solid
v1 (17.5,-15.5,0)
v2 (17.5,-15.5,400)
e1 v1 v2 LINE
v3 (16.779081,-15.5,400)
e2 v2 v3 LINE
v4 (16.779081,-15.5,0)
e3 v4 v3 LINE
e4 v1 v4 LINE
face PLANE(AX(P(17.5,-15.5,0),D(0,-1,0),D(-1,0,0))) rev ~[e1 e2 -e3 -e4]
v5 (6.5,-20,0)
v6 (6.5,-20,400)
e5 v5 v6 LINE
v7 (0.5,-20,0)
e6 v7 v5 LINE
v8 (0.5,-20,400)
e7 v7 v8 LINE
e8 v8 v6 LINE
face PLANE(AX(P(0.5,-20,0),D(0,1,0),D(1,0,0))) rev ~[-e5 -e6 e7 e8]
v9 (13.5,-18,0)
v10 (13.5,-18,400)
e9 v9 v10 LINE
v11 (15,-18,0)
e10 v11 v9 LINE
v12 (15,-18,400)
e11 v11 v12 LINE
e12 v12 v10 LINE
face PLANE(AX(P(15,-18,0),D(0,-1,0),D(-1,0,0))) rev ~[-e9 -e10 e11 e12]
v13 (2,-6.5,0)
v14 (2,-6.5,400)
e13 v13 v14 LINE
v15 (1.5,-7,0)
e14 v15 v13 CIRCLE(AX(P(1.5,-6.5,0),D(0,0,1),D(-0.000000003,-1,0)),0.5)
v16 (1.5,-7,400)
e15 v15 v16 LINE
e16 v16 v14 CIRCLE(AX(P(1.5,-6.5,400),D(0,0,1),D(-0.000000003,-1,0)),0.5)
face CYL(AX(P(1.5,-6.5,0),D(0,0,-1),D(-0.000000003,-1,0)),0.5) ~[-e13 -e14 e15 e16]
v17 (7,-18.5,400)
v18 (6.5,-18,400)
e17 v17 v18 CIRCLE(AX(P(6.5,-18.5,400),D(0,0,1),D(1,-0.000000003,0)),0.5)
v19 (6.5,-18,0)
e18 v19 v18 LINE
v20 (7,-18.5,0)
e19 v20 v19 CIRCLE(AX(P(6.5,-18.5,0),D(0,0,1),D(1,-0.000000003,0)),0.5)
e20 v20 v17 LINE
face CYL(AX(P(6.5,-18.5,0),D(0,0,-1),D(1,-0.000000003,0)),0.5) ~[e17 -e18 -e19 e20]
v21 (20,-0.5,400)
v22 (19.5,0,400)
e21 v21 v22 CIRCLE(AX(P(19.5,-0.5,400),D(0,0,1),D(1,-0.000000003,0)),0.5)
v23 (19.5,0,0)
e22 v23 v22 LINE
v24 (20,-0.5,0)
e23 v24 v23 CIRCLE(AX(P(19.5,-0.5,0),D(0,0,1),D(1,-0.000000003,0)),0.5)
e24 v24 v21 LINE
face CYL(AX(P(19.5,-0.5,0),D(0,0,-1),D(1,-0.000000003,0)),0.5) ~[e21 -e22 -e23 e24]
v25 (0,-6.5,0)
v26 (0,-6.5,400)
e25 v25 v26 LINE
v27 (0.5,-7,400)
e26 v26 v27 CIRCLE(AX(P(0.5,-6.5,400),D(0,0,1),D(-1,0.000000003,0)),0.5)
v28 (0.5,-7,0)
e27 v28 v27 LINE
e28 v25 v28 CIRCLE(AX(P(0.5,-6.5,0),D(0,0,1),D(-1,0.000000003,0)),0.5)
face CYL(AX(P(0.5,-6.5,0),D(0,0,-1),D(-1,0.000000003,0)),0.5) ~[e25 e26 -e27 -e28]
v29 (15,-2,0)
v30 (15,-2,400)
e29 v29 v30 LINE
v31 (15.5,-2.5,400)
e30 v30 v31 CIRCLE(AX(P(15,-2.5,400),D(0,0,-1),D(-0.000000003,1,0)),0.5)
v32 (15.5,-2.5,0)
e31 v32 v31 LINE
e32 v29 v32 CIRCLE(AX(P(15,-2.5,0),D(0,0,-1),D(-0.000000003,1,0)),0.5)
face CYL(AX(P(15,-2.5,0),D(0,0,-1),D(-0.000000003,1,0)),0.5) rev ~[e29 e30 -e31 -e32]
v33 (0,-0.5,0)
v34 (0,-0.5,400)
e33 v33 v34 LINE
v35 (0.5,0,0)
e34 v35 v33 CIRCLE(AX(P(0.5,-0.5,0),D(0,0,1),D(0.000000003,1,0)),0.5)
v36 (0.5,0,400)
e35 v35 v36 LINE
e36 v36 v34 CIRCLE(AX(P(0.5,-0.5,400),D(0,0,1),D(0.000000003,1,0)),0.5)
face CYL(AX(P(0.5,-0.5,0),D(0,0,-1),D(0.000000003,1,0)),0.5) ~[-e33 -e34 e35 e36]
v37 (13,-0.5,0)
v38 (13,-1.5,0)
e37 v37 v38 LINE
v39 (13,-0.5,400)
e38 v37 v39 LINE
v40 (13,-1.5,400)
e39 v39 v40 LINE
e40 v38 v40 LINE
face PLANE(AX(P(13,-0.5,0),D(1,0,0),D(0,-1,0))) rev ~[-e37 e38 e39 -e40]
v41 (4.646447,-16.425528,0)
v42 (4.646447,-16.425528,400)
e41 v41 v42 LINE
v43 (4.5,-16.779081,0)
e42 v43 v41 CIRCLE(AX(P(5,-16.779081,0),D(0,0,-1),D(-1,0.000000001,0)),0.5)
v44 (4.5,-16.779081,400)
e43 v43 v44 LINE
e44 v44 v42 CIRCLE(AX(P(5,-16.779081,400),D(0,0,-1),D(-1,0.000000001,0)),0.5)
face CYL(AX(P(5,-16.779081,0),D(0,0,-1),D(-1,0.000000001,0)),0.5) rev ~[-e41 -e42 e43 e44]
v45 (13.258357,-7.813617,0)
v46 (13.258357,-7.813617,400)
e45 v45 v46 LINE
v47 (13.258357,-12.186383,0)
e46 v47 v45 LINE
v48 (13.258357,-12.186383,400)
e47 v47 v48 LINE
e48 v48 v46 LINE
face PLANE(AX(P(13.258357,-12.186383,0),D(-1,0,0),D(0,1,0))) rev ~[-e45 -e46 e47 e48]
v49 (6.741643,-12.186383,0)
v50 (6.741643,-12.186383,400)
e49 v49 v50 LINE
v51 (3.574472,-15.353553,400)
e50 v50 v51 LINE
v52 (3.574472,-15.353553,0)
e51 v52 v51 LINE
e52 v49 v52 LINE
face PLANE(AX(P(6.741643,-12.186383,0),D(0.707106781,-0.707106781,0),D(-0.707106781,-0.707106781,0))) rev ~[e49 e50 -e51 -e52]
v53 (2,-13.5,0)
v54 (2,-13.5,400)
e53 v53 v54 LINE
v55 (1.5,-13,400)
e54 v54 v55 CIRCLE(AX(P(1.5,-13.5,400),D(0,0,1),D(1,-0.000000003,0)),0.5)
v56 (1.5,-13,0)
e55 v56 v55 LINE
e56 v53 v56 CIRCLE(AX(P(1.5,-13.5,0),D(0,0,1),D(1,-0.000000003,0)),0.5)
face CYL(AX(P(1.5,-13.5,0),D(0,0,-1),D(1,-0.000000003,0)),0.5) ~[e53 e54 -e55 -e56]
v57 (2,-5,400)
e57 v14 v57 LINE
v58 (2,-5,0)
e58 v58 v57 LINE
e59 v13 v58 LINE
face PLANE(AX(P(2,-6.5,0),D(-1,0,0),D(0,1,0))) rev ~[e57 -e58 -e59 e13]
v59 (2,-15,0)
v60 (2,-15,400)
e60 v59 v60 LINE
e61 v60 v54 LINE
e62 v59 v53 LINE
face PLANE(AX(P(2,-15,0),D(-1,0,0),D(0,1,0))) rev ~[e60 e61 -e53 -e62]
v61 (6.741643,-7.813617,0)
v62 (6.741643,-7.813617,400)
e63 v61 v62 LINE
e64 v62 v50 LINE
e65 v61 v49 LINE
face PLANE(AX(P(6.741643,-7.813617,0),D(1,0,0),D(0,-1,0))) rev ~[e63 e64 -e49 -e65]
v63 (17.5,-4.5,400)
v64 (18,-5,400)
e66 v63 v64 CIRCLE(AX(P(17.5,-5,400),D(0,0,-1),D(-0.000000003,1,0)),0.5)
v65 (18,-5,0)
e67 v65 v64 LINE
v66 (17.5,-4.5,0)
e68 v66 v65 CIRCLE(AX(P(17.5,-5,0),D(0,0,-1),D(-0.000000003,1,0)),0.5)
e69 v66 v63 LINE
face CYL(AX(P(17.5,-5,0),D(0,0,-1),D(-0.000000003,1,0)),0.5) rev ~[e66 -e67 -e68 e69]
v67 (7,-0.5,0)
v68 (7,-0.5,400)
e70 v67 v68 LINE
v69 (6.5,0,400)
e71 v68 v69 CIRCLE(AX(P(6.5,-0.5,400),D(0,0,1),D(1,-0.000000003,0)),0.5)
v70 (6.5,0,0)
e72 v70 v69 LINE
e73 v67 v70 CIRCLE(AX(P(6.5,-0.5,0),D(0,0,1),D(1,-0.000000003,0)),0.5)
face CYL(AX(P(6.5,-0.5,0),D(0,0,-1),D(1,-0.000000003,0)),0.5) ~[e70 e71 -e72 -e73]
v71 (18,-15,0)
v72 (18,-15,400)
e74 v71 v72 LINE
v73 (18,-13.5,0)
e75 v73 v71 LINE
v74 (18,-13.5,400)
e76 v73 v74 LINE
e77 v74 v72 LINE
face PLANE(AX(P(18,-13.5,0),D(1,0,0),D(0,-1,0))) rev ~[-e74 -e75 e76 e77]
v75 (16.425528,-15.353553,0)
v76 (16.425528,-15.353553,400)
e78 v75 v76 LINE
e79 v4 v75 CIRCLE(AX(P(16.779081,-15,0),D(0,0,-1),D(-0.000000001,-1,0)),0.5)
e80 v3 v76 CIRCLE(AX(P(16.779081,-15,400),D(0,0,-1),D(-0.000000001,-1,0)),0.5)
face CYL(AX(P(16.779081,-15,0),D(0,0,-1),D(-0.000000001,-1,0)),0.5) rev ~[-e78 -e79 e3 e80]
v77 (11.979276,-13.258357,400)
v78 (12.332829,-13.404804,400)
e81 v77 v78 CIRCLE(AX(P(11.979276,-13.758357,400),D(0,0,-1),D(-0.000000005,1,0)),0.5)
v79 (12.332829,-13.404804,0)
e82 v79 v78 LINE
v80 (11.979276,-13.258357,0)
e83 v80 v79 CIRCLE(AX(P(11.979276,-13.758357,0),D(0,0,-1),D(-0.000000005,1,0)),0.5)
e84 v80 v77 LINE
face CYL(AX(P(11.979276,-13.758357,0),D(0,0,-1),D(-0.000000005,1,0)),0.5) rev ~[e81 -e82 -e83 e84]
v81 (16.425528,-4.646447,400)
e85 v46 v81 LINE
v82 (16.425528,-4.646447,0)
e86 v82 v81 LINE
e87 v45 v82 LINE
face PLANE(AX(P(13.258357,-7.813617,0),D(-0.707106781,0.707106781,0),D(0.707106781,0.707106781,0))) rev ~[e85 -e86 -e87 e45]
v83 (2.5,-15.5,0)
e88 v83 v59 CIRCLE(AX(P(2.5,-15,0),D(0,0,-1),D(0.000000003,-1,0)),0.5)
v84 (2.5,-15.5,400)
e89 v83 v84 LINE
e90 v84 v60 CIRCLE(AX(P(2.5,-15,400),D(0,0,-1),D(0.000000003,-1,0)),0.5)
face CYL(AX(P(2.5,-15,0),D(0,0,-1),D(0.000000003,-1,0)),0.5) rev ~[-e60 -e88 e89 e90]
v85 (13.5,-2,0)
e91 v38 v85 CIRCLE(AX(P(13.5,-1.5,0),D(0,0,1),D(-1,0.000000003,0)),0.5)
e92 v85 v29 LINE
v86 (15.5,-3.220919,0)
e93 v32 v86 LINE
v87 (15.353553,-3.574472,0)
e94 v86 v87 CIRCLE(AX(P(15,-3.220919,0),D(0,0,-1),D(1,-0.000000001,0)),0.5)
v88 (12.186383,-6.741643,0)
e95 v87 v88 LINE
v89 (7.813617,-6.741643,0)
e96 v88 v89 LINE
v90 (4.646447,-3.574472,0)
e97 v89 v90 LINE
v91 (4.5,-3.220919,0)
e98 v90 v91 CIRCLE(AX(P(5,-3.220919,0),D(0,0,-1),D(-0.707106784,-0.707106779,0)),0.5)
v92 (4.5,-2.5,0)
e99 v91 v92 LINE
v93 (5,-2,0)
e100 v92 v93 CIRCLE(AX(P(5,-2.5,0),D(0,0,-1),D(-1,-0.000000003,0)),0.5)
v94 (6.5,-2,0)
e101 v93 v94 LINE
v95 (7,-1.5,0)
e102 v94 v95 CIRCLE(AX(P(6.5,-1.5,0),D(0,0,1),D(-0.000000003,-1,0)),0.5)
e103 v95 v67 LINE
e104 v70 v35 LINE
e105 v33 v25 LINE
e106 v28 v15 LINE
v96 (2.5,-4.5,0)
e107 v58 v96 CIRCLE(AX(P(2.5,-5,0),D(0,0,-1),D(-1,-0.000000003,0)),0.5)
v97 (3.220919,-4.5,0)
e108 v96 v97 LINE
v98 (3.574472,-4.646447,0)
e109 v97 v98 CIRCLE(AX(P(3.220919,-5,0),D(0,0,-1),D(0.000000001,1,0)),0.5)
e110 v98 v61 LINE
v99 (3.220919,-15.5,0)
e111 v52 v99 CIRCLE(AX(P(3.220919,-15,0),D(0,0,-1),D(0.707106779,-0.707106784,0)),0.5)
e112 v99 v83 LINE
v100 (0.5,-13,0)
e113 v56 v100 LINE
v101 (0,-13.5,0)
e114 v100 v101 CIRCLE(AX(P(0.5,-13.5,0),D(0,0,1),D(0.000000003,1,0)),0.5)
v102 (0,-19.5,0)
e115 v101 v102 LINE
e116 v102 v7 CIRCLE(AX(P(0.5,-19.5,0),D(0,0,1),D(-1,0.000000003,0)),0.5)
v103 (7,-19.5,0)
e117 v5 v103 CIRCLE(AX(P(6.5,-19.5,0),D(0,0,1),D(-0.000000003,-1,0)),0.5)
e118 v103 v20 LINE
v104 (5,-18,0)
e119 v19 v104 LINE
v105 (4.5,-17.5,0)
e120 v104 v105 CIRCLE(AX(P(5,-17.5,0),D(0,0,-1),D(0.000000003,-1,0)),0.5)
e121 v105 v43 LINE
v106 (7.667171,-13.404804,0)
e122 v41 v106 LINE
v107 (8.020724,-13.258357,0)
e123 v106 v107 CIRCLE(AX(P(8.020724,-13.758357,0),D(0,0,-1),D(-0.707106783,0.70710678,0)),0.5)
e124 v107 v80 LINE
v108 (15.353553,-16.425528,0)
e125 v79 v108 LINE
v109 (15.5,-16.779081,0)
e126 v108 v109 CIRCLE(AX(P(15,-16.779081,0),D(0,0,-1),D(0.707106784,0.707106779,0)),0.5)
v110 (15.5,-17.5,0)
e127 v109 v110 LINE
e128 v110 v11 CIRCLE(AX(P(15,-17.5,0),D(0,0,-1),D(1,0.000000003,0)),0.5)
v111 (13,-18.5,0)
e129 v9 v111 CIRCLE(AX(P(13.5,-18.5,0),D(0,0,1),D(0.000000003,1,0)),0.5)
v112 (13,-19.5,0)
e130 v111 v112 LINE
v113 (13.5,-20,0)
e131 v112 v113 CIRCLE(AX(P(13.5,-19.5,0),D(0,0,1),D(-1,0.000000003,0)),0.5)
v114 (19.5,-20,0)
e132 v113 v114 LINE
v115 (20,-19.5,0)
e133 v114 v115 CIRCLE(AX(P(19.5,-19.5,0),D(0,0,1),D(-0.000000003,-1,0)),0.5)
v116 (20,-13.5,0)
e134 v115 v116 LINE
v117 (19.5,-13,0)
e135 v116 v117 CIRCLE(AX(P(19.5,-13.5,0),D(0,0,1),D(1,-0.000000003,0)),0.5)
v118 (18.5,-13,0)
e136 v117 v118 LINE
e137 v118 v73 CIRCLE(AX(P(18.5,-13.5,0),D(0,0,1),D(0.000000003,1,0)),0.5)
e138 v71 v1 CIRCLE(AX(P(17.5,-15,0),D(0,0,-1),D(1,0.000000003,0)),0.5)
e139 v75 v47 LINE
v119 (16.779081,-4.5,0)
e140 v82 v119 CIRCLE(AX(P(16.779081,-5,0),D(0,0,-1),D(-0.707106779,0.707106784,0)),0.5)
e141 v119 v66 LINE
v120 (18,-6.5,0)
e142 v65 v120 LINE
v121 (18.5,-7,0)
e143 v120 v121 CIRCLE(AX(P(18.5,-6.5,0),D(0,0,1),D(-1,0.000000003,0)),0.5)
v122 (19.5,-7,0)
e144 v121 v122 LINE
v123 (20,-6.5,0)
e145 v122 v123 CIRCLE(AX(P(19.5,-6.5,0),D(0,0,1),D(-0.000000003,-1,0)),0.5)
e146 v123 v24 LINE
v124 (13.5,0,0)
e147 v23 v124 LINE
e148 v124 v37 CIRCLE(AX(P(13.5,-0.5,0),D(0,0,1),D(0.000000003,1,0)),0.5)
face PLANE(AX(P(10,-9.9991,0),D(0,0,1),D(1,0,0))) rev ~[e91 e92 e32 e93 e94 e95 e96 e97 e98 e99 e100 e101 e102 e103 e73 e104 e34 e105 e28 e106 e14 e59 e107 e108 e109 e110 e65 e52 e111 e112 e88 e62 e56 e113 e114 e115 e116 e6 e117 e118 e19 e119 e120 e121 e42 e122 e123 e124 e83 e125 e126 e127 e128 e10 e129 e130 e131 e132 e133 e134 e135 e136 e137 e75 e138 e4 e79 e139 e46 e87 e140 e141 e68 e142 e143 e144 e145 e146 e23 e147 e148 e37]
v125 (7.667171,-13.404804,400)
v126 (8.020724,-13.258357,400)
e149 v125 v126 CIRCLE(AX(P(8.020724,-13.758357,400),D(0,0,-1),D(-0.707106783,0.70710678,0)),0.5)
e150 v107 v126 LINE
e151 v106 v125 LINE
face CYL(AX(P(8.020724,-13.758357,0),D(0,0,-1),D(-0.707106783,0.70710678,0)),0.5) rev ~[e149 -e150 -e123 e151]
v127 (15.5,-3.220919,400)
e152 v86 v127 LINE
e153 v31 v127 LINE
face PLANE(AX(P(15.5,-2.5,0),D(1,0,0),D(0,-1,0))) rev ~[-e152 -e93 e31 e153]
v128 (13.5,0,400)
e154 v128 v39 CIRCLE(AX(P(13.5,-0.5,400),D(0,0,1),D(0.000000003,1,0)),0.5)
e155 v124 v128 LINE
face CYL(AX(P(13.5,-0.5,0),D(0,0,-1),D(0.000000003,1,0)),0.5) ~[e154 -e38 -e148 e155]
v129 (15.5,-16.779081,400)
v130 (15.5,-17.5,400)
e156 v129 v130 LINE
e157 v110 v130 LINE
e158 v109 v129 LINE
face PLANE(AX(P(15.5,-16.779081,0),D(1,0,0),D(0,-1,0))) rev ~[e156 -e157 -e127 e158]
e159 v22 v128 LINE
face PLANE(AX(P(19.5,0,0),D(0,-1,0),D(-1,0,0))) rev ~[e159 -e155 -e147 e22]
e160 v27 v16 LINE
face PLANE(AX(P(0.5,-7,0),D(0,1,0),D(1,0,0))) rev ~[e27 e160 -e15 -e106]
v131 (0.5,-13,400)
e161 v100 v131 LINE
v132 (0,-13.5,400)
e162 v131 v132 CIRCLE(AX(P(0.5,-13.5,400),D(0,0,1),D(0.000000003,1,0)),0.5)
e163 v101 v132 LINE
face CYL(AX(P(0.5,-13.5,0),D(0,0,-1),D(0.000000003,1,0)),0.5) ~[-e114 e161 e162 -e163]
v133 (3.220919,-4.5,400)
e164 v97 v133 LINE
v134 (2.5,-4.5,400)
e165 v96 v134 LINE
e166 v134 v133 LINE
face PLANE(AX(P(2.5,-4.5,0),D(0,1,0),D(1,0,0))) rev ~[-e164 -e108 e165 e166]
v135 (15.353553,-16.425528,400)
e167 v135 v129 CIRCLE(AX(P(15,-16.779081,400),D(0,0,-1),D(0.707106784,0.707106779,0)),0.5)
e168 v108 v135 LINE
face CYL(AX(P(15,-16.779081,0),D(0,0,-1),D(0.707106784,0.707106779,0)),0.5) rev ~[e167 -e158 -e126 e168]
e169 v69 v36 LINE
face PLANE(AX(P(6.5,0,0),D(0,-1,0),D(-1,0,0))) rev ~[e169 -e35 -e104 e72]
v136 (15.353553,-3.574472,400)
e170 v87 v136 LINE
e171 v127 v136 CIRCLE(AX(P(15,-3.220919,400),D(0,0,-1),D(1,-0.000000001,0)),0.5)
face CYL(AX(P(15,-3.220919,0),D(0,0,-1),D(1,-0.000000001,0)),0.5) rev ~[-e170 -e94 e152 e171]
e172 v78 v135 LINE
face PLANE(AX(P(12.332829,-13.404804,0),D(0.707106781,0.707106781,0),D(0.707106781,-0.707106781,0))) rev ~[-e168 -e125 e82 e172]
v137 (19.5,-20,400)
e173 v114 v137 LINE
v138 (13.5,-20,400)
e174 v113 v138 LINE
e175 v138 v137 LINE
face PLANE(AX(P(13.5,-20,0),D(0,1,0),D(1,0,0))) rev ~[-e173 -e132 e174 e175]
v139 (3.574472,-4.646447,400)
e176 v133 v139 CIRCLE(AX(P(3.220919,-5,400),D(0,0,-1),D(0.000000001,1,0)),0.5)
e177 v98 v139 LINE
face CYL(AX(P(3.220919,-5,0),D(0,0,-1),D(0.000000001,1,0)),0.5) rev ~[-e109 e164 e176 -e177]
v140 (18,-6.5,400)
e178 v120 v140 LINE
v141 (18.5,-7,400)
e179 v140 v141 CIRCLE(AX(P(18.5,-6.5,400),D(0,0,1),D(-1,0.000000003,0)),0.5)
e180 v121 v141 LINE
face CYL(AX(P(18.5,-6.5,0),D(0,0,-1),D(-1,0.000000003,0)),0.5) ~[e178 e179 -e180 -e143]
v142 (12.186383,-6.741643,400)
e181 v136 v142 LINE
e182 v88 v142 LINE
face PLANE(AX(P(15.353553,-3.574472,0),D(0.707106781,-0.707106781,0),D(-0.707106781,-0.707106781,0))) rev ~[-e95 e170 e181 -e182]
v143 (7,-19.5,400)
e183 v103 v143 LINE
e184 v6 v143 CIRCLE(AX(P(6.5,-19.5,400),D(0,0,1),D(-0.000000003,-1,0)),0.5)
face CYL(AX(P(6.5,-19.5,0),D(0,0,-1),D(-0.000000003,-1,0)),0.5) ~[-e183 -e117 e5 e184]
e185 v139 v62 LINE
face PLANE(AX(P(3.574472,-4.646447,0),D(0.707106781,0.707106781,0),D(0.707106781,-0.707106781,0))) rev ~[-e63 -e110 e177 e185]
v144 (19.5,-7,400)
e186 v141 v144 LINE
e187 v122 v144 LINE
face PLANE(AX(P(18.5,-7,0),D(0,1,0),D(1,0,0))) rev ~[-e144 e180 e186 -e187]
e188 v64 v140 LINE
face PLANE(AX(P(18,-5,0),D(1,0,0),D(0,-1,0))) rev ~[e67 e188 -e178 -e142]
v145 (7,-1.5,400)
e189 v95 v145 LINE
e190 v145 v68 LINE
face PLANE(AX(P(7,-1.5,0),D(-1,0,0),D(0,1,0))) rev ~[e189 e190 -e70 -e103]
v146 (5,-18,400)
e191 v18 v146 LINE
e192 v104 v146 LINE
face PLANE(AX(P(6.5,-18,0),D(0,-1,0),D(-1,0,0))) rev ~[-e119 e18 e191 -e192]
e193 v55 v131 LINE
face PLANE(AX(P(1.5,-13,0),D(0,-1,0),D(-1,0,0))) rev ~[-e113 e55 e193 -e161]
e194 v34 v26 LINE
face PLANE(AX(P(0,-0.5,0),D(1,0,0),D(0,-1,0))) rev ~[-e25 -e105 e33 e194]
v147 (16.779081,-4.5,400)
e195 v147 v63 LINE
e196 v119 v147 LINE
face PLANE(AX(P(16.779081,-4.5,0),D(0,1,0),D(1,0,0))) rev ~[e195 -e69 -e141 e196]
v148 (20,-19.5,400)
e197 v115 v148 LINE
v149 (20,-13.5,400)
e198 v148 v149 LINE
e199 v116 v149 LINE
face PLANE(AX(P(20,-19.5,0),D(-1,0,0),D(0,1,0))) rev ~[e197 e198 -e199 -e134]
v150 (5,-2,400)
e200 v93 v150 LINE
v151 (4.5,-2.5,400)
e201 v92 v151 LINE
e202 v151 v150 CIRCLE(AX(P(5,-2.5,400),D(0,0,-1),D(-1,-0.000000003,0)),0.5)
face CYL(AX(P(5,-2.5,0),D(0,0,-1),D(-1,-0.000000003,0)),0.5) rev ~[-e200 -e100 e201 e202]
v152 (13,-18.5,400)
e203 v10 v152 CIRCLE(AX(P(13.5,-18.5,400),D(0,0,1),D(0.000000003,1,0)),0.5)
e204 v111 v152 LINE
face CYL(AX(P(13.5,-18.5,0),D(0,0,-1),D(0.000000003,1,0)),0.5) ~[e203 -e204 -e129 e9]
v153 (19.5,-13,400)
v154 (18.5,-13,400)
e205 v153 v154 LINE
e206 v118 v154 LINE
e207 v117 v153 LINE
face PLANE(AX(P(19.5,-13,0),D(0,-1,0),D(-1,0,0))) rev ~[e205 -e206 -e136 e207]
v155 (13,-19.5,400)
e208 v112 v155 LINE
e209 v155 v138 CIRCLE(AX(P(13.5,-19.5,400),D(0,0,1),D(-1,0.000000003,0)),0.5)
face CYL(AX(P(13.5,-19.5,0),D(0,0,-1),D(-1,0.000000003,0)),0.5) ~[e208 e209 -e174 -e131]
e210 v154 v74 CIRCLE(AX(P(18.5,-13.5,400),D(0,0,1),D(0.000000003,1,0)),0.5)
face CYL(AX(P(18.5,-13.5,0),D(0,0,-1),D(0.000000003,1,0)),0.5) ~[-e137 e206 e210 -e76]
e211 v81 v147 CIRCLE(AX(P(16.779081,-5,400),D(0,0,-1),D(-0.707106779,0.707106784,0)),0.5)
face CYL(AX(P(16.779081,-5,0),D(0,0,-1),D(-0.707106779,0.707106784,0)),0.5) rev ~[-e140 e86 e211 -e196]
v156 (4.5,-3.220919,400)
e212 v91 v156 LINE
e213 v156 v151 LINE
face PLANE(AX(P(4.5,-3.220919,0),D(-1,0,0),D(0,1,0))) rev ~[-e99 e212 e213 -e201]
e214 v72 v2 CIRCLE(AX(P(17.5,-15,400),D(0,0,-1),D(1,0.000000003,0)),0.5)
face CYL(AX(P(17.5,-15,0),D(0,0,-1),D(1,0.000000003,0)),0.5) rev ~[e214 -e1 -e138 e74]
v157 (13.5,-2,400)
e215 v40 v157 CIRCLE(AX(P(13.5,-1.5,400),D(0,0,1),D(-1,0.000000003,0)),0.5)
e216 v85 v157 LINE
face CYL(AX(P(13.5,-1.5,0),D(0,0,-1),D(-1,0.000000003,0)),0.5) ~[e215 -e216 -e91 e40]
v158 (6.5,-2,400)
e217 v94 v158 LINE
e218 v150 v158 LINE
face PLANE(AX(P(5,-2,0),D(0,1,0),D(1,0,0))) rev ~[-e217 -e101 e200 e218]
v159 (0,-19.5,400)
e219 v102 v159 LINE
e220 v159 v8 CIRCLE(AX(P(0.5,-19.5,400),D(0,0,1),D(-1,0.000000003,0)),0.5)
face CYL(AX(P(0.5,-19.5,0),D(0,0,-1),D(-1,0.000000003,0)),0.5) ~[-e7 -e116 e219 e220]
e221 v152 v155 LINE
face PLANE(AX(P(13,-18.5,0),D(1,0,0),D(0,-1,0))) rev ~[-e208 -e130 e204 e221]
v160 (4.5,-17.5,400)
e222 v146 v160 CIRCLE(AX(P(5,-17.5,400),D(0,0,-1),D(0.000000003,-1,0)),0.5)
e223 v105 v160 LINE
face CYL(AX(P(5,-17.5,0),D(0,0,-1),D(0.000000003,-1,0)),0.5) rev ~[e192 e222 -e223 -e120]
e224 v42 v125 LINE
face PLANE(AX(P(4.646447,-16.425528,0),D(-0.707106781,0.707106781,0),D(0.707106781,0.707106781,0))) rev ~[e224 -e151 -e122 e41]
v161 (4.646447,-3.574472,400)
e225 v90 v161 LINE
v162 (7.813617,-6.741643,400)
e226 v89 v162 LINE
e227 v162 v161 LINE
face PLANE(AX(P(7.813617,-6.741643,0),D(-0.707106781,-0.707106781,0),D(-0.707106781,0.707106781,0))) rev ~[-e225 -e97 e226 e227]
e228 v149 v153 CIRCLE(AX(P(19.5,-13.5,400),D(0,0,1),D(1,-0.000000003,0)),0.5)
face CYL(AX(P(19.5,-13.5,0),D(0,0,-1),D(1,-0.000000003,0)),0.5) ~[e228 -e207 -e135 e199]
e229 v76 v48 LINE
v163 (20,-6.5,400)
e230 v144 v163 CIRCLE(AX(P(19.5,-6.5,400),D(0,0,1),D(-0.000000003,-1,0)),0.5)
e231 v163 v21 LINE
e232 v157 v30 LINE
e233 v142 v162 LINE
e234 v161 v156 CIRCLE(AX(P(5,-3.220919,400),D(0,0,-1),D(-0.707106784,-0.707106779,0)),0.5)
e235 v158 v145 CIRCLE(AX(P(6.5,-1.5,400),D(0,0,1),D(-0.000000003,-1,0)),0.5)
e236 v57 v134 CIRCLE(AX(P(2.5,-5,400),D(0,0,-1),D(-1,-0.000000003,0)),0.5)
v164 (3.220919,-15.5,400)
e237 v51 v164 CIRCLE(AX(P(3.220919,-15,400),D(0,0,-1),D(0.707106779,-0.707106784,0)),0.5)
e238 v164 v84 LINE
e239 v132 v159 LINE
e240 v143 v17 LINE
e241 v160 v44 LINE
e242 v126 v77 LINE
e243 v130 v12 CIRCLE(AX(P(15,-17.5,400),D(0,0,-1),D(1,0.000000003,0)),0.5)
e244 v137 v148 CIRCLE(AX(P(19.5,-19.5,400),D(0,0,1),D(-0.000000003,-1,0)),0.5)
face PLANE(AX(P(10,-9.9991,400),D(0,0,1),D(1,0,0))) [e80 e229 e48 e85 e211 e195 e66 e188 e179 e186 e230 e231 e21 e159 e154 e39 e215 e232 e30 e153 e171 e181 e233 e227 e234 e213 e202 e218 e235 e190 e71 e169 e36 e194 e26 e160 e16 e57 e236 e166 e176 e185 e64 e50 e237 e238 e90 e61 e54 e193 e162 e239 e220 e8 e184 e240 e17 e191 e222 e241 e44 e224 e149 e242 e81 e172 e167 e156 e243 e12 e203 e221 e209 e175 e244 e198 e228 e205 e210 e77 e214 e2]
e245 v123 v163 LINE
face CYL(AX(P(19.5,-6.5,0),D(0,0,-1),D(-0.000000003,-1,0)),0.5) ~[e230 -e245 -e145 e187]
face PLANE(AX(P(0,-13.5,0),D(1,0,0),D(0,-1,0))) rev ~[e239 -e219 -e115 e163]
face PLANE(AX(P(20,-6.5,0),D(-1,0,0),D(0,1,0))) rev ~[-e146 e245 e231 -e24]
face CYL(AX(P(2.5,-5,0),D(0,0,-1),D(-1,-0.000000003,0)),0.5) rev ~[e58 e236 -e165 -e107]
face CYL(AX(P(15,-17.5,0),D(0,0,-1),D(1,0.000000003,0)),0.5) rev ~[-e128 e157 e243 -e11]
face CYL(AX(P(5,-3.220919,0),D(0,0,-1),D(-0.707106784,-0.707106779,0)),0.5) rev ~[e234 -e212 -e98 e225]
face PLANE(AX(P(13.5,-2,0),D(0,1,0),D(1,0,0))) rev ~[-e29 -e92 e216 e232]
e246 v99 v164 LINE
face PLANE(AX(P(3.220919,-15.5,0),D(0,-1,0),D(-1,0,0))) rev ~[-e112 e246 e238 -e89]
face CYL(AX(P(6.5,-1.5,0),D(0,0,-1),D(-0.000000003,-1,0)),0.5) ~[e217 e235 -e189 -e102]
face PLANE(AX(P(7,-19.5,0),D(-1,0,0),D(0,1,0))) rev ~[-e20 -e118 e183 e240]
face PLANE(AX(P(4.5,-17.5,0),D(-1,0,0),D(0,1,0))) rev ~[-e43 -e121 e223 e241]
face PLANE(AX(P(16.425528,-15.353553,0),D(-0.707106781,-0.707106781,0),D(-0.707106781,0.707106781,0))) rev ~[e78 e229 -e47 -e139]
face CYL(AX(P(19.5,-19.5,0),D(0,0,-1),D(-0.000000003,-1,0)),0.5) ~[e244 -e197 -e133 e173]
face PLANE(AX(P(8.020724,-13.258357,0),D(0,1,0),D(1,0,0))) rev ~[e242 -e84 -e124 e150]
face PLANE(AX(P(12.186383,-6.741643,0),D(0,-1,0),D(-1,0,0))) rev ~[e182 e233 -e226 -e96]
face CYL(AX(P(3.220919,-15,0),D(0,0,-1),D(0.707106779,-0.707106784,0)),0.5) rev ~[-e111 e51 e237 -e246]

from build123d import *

# Parameters (mm, degrees)
EXTRUDE_1_DEPTH = 400


with BuildPart() as part:
    # 草图1 → 凸台-拉伸1 (new body)
    with BuildSketch(Plane.XY):
        with BuildLine():
            Line((6.5, 0), (0.5, 0))
            ThreePointArc((0.5, 0), (0.146446609, -0.146446609), (0, -0.5))
            Line((0, -0.5), (0, -6.5))
            ThreePointArc((0, -6.5), (0.146446609, -6.853553391), (0.5, -7))
            Line((0.5, -7), (1.5, -7))
            ThreePointArc((1.5, -7), (1.853553391, -6.853553391), (2, -6.5))
            Line((2, -6.5), (2, -5))
            ThreePointArc((2, -5), (2.146446609, -4.646446609), (2.5, -4.5))
            Line((2.5, -4.5), (3.220918534, -4.5))
            ThreePointArc((3.220918534, -4.5), (3.412260251, -4.538060234), (3.574471925, -4.646446609))
            Line((3.574471925, -4.646446609), (6.741642787, -7.813617472))
            Line((6.741642787, -7.813617472), (6.741642787, -12.186382528))
            Line((6.741642787, -12.186382528), (3.574471925, -15.353553391))
            ThreePointArc((3.574471925, -15.353553391), (3.412260251, -15.461939766), (3.220918534, -15.5))
            Line((3.220918534, -15.5), (2.5, -15.5))
            ThreePointArc((2.5, -15.5), (2.146446609, -15.353553391), (2, -15))
            Line((2, -15), (2, -13.5))
            ThreePointArc((2, -13.5), (1.853553391, -13.146446609), (1.5, -13))
            Line((1.5, -13), (0.5, -13))
            ThreePointArc((0.5, -13), (0.146446609, -13.146446609), (0, -13.5))
            Line((0, -13.5), (0, -19.5))
            ThreePointArc((0, -19.5), (0.146446609, -19.853553391), (0.5, -20))
            Line((0.5, -20), (6.5, -20))
            ThreePointArc((6.5, -20), (6.853553391, -19.853553391), (7, -19.5))
            Line((7, -19.5), (7, -18.5))
            ThreePointArc((7, -18.5), (6.853553391, -18.146446609), (6.5, -18))
            Line((6.5, -18), (5, -18))
            ThreePointArc((5, -18), (4.646446609, -17.853553391), (4.5, -17.5))
            Line((4.5, -17.5), (4.5, -16.779081466))
            ThreePointArc((4.5, -16.779081466), (4.538060234, -16.587739749), (4.646446609, -16.425528075))
            Line((4.646446609, -16.425528075), (7.667170862, -13.404803822))
            ThreePointArc((7.667170862, -13.404803822), (7.829382537, -13.296417446), (8.020724253, -13.258357213))
            Line((8.020724253, -13.258357213), (11.979275747, -13.258357213))
            ThreePointArc((11.979275747, -13.258357213), (12.170617463, -13.296417446), (12.332829138, -13.404803822))
            Line((12.332829138, -13.404803822), (15.353553391, -16.425528075))
            ThreePointArc((15.353553391, -16.425528075), (15.461939766, -16.587739749), (15.5, -16.779081466))
            Line((15.5, -16.779081466), (15.5, -17.5))
            ThreePointArc((15.5, -17.5), (15.353553391, -17.853553391), (15, -18))
            Line((15, -18), (13.5, -18))
            ThreePointArc((13.5, -18), (13.146446609, -18.146446609), (13, -18.5))
            Line((13, -18.5), (13, -19.5))
            ThreePointArc((13, -19.5), (13.146446609, -19.853553391), (13.5, -20))
            Line((13.5, -20), (19.5, -20))
            ThreePointArc((19.5, -20), (19.853553391, -19.853553391), (20, -19.5))
            Line((20, -19.5), (20, -13.5))
            ThreePointArc((20, -13.5), (19.853553391, -13.146446609), (19.5, -13))
            Line((19.5, -13), (18.5, -13))
            ThreePointArc((18.5, -13), (18.146446609, -13.146446609), (18, -13.5))
            Line((18, -13.5), (18, -15))
            ThreePointArc((18, -15), (17.853553391, -15.353553391), (17.5, -15.5))
            Line((17.5, -15.5), (16.779081466, -15.5))
            ThreePointArc((16.779081466, -15.5), (16.587739749, -15.461939766), (16.425528075, -15.353553391))
            Line((16.425528075, -15.353553391), (13.258357213, -12.186382528))
            Line((13.258357213, -12.186382528), (13.258357213, -7.813617472))
            Line((13.258357213, -7.813617472), (16.425528075, -4.646446609))
            ThreePointArc((16.425528075, -4.646446609), (16.587739749, -4.538060234), (16.779081466, -4.5))
            Line((16.779081466, -4.5), (17.5, -4.5))
            ThreePointArc((17.5, -4.5), (17.853553391, -4.646446609), (18, -5))
            Line((18, -5), (18, -6.5))
            ThreePointArc((18, -6.5), (18.146446609, -6.853553391), (18.5, -7))
            Line((18.5, -7), (19.5, -7))
            ThreePointArc((19.5, -7), (19.853553391, -6.853553391), (20, -6.5))
            Line((20, -6.5), (20, -0.5))
            ThreePointArc((20, -0.5), (19.853553391, -0.146446609), (19.5, 0))
            Line((19.5, 0), (13.5, 0))
            ThreePointArc((13.5, 0), (13.146446609, -0.146446609), (13, -0.5))
            Line((13, -0.5), (13, -1.5))
            ThreePointArc((13, -1.5), (13.146446609, -1.853553391), (13.5, -2))
            Line((13.5, -2), (15, -2))
            ThreePointArc((15, -2), (15.353553391, -2.146446609), (15.5, -2.5))
            Line((15.5, -2.5), (15.5, -3.220918534))
            ThreePointArc((15.5, -3.220918534), (15.461939766, -3.412260251), (15.353553391, -3.574471925))
            Line((15.353553391, -3.574471925), (12.186382528, -6.741642787))
            Line((12.186382528, -6.741642787), (7.813617472, -6.741642787))
            Line((7.813617472, -6.741642787), (4.646446609, -3.574471925))
            ThreePointArc((4.646446609, -3.574471925), (4.538060234, -3.412260251), (4.5, -3.220918534))
            Line((4.5, -3.220918534), (4.5, -2.5))
            ThreePointArc((4.5, -2.5), (4.646446609, -2.146446609), (5, -2))
            Line((5, -2), (6.5, -2))
            ThreePointArc((6.5, -2), (6.853553391, -1.853553391), (7, -1.5))
            Line((7, -1.5), (7, -0.5))
            ThreePointArc((7, -0.5), (6.853553391, -0.146446609), (6.5, 0))
        make_face()
    extrude(amount=EXTRUDE_1_DEPTH)


solid = part.part
